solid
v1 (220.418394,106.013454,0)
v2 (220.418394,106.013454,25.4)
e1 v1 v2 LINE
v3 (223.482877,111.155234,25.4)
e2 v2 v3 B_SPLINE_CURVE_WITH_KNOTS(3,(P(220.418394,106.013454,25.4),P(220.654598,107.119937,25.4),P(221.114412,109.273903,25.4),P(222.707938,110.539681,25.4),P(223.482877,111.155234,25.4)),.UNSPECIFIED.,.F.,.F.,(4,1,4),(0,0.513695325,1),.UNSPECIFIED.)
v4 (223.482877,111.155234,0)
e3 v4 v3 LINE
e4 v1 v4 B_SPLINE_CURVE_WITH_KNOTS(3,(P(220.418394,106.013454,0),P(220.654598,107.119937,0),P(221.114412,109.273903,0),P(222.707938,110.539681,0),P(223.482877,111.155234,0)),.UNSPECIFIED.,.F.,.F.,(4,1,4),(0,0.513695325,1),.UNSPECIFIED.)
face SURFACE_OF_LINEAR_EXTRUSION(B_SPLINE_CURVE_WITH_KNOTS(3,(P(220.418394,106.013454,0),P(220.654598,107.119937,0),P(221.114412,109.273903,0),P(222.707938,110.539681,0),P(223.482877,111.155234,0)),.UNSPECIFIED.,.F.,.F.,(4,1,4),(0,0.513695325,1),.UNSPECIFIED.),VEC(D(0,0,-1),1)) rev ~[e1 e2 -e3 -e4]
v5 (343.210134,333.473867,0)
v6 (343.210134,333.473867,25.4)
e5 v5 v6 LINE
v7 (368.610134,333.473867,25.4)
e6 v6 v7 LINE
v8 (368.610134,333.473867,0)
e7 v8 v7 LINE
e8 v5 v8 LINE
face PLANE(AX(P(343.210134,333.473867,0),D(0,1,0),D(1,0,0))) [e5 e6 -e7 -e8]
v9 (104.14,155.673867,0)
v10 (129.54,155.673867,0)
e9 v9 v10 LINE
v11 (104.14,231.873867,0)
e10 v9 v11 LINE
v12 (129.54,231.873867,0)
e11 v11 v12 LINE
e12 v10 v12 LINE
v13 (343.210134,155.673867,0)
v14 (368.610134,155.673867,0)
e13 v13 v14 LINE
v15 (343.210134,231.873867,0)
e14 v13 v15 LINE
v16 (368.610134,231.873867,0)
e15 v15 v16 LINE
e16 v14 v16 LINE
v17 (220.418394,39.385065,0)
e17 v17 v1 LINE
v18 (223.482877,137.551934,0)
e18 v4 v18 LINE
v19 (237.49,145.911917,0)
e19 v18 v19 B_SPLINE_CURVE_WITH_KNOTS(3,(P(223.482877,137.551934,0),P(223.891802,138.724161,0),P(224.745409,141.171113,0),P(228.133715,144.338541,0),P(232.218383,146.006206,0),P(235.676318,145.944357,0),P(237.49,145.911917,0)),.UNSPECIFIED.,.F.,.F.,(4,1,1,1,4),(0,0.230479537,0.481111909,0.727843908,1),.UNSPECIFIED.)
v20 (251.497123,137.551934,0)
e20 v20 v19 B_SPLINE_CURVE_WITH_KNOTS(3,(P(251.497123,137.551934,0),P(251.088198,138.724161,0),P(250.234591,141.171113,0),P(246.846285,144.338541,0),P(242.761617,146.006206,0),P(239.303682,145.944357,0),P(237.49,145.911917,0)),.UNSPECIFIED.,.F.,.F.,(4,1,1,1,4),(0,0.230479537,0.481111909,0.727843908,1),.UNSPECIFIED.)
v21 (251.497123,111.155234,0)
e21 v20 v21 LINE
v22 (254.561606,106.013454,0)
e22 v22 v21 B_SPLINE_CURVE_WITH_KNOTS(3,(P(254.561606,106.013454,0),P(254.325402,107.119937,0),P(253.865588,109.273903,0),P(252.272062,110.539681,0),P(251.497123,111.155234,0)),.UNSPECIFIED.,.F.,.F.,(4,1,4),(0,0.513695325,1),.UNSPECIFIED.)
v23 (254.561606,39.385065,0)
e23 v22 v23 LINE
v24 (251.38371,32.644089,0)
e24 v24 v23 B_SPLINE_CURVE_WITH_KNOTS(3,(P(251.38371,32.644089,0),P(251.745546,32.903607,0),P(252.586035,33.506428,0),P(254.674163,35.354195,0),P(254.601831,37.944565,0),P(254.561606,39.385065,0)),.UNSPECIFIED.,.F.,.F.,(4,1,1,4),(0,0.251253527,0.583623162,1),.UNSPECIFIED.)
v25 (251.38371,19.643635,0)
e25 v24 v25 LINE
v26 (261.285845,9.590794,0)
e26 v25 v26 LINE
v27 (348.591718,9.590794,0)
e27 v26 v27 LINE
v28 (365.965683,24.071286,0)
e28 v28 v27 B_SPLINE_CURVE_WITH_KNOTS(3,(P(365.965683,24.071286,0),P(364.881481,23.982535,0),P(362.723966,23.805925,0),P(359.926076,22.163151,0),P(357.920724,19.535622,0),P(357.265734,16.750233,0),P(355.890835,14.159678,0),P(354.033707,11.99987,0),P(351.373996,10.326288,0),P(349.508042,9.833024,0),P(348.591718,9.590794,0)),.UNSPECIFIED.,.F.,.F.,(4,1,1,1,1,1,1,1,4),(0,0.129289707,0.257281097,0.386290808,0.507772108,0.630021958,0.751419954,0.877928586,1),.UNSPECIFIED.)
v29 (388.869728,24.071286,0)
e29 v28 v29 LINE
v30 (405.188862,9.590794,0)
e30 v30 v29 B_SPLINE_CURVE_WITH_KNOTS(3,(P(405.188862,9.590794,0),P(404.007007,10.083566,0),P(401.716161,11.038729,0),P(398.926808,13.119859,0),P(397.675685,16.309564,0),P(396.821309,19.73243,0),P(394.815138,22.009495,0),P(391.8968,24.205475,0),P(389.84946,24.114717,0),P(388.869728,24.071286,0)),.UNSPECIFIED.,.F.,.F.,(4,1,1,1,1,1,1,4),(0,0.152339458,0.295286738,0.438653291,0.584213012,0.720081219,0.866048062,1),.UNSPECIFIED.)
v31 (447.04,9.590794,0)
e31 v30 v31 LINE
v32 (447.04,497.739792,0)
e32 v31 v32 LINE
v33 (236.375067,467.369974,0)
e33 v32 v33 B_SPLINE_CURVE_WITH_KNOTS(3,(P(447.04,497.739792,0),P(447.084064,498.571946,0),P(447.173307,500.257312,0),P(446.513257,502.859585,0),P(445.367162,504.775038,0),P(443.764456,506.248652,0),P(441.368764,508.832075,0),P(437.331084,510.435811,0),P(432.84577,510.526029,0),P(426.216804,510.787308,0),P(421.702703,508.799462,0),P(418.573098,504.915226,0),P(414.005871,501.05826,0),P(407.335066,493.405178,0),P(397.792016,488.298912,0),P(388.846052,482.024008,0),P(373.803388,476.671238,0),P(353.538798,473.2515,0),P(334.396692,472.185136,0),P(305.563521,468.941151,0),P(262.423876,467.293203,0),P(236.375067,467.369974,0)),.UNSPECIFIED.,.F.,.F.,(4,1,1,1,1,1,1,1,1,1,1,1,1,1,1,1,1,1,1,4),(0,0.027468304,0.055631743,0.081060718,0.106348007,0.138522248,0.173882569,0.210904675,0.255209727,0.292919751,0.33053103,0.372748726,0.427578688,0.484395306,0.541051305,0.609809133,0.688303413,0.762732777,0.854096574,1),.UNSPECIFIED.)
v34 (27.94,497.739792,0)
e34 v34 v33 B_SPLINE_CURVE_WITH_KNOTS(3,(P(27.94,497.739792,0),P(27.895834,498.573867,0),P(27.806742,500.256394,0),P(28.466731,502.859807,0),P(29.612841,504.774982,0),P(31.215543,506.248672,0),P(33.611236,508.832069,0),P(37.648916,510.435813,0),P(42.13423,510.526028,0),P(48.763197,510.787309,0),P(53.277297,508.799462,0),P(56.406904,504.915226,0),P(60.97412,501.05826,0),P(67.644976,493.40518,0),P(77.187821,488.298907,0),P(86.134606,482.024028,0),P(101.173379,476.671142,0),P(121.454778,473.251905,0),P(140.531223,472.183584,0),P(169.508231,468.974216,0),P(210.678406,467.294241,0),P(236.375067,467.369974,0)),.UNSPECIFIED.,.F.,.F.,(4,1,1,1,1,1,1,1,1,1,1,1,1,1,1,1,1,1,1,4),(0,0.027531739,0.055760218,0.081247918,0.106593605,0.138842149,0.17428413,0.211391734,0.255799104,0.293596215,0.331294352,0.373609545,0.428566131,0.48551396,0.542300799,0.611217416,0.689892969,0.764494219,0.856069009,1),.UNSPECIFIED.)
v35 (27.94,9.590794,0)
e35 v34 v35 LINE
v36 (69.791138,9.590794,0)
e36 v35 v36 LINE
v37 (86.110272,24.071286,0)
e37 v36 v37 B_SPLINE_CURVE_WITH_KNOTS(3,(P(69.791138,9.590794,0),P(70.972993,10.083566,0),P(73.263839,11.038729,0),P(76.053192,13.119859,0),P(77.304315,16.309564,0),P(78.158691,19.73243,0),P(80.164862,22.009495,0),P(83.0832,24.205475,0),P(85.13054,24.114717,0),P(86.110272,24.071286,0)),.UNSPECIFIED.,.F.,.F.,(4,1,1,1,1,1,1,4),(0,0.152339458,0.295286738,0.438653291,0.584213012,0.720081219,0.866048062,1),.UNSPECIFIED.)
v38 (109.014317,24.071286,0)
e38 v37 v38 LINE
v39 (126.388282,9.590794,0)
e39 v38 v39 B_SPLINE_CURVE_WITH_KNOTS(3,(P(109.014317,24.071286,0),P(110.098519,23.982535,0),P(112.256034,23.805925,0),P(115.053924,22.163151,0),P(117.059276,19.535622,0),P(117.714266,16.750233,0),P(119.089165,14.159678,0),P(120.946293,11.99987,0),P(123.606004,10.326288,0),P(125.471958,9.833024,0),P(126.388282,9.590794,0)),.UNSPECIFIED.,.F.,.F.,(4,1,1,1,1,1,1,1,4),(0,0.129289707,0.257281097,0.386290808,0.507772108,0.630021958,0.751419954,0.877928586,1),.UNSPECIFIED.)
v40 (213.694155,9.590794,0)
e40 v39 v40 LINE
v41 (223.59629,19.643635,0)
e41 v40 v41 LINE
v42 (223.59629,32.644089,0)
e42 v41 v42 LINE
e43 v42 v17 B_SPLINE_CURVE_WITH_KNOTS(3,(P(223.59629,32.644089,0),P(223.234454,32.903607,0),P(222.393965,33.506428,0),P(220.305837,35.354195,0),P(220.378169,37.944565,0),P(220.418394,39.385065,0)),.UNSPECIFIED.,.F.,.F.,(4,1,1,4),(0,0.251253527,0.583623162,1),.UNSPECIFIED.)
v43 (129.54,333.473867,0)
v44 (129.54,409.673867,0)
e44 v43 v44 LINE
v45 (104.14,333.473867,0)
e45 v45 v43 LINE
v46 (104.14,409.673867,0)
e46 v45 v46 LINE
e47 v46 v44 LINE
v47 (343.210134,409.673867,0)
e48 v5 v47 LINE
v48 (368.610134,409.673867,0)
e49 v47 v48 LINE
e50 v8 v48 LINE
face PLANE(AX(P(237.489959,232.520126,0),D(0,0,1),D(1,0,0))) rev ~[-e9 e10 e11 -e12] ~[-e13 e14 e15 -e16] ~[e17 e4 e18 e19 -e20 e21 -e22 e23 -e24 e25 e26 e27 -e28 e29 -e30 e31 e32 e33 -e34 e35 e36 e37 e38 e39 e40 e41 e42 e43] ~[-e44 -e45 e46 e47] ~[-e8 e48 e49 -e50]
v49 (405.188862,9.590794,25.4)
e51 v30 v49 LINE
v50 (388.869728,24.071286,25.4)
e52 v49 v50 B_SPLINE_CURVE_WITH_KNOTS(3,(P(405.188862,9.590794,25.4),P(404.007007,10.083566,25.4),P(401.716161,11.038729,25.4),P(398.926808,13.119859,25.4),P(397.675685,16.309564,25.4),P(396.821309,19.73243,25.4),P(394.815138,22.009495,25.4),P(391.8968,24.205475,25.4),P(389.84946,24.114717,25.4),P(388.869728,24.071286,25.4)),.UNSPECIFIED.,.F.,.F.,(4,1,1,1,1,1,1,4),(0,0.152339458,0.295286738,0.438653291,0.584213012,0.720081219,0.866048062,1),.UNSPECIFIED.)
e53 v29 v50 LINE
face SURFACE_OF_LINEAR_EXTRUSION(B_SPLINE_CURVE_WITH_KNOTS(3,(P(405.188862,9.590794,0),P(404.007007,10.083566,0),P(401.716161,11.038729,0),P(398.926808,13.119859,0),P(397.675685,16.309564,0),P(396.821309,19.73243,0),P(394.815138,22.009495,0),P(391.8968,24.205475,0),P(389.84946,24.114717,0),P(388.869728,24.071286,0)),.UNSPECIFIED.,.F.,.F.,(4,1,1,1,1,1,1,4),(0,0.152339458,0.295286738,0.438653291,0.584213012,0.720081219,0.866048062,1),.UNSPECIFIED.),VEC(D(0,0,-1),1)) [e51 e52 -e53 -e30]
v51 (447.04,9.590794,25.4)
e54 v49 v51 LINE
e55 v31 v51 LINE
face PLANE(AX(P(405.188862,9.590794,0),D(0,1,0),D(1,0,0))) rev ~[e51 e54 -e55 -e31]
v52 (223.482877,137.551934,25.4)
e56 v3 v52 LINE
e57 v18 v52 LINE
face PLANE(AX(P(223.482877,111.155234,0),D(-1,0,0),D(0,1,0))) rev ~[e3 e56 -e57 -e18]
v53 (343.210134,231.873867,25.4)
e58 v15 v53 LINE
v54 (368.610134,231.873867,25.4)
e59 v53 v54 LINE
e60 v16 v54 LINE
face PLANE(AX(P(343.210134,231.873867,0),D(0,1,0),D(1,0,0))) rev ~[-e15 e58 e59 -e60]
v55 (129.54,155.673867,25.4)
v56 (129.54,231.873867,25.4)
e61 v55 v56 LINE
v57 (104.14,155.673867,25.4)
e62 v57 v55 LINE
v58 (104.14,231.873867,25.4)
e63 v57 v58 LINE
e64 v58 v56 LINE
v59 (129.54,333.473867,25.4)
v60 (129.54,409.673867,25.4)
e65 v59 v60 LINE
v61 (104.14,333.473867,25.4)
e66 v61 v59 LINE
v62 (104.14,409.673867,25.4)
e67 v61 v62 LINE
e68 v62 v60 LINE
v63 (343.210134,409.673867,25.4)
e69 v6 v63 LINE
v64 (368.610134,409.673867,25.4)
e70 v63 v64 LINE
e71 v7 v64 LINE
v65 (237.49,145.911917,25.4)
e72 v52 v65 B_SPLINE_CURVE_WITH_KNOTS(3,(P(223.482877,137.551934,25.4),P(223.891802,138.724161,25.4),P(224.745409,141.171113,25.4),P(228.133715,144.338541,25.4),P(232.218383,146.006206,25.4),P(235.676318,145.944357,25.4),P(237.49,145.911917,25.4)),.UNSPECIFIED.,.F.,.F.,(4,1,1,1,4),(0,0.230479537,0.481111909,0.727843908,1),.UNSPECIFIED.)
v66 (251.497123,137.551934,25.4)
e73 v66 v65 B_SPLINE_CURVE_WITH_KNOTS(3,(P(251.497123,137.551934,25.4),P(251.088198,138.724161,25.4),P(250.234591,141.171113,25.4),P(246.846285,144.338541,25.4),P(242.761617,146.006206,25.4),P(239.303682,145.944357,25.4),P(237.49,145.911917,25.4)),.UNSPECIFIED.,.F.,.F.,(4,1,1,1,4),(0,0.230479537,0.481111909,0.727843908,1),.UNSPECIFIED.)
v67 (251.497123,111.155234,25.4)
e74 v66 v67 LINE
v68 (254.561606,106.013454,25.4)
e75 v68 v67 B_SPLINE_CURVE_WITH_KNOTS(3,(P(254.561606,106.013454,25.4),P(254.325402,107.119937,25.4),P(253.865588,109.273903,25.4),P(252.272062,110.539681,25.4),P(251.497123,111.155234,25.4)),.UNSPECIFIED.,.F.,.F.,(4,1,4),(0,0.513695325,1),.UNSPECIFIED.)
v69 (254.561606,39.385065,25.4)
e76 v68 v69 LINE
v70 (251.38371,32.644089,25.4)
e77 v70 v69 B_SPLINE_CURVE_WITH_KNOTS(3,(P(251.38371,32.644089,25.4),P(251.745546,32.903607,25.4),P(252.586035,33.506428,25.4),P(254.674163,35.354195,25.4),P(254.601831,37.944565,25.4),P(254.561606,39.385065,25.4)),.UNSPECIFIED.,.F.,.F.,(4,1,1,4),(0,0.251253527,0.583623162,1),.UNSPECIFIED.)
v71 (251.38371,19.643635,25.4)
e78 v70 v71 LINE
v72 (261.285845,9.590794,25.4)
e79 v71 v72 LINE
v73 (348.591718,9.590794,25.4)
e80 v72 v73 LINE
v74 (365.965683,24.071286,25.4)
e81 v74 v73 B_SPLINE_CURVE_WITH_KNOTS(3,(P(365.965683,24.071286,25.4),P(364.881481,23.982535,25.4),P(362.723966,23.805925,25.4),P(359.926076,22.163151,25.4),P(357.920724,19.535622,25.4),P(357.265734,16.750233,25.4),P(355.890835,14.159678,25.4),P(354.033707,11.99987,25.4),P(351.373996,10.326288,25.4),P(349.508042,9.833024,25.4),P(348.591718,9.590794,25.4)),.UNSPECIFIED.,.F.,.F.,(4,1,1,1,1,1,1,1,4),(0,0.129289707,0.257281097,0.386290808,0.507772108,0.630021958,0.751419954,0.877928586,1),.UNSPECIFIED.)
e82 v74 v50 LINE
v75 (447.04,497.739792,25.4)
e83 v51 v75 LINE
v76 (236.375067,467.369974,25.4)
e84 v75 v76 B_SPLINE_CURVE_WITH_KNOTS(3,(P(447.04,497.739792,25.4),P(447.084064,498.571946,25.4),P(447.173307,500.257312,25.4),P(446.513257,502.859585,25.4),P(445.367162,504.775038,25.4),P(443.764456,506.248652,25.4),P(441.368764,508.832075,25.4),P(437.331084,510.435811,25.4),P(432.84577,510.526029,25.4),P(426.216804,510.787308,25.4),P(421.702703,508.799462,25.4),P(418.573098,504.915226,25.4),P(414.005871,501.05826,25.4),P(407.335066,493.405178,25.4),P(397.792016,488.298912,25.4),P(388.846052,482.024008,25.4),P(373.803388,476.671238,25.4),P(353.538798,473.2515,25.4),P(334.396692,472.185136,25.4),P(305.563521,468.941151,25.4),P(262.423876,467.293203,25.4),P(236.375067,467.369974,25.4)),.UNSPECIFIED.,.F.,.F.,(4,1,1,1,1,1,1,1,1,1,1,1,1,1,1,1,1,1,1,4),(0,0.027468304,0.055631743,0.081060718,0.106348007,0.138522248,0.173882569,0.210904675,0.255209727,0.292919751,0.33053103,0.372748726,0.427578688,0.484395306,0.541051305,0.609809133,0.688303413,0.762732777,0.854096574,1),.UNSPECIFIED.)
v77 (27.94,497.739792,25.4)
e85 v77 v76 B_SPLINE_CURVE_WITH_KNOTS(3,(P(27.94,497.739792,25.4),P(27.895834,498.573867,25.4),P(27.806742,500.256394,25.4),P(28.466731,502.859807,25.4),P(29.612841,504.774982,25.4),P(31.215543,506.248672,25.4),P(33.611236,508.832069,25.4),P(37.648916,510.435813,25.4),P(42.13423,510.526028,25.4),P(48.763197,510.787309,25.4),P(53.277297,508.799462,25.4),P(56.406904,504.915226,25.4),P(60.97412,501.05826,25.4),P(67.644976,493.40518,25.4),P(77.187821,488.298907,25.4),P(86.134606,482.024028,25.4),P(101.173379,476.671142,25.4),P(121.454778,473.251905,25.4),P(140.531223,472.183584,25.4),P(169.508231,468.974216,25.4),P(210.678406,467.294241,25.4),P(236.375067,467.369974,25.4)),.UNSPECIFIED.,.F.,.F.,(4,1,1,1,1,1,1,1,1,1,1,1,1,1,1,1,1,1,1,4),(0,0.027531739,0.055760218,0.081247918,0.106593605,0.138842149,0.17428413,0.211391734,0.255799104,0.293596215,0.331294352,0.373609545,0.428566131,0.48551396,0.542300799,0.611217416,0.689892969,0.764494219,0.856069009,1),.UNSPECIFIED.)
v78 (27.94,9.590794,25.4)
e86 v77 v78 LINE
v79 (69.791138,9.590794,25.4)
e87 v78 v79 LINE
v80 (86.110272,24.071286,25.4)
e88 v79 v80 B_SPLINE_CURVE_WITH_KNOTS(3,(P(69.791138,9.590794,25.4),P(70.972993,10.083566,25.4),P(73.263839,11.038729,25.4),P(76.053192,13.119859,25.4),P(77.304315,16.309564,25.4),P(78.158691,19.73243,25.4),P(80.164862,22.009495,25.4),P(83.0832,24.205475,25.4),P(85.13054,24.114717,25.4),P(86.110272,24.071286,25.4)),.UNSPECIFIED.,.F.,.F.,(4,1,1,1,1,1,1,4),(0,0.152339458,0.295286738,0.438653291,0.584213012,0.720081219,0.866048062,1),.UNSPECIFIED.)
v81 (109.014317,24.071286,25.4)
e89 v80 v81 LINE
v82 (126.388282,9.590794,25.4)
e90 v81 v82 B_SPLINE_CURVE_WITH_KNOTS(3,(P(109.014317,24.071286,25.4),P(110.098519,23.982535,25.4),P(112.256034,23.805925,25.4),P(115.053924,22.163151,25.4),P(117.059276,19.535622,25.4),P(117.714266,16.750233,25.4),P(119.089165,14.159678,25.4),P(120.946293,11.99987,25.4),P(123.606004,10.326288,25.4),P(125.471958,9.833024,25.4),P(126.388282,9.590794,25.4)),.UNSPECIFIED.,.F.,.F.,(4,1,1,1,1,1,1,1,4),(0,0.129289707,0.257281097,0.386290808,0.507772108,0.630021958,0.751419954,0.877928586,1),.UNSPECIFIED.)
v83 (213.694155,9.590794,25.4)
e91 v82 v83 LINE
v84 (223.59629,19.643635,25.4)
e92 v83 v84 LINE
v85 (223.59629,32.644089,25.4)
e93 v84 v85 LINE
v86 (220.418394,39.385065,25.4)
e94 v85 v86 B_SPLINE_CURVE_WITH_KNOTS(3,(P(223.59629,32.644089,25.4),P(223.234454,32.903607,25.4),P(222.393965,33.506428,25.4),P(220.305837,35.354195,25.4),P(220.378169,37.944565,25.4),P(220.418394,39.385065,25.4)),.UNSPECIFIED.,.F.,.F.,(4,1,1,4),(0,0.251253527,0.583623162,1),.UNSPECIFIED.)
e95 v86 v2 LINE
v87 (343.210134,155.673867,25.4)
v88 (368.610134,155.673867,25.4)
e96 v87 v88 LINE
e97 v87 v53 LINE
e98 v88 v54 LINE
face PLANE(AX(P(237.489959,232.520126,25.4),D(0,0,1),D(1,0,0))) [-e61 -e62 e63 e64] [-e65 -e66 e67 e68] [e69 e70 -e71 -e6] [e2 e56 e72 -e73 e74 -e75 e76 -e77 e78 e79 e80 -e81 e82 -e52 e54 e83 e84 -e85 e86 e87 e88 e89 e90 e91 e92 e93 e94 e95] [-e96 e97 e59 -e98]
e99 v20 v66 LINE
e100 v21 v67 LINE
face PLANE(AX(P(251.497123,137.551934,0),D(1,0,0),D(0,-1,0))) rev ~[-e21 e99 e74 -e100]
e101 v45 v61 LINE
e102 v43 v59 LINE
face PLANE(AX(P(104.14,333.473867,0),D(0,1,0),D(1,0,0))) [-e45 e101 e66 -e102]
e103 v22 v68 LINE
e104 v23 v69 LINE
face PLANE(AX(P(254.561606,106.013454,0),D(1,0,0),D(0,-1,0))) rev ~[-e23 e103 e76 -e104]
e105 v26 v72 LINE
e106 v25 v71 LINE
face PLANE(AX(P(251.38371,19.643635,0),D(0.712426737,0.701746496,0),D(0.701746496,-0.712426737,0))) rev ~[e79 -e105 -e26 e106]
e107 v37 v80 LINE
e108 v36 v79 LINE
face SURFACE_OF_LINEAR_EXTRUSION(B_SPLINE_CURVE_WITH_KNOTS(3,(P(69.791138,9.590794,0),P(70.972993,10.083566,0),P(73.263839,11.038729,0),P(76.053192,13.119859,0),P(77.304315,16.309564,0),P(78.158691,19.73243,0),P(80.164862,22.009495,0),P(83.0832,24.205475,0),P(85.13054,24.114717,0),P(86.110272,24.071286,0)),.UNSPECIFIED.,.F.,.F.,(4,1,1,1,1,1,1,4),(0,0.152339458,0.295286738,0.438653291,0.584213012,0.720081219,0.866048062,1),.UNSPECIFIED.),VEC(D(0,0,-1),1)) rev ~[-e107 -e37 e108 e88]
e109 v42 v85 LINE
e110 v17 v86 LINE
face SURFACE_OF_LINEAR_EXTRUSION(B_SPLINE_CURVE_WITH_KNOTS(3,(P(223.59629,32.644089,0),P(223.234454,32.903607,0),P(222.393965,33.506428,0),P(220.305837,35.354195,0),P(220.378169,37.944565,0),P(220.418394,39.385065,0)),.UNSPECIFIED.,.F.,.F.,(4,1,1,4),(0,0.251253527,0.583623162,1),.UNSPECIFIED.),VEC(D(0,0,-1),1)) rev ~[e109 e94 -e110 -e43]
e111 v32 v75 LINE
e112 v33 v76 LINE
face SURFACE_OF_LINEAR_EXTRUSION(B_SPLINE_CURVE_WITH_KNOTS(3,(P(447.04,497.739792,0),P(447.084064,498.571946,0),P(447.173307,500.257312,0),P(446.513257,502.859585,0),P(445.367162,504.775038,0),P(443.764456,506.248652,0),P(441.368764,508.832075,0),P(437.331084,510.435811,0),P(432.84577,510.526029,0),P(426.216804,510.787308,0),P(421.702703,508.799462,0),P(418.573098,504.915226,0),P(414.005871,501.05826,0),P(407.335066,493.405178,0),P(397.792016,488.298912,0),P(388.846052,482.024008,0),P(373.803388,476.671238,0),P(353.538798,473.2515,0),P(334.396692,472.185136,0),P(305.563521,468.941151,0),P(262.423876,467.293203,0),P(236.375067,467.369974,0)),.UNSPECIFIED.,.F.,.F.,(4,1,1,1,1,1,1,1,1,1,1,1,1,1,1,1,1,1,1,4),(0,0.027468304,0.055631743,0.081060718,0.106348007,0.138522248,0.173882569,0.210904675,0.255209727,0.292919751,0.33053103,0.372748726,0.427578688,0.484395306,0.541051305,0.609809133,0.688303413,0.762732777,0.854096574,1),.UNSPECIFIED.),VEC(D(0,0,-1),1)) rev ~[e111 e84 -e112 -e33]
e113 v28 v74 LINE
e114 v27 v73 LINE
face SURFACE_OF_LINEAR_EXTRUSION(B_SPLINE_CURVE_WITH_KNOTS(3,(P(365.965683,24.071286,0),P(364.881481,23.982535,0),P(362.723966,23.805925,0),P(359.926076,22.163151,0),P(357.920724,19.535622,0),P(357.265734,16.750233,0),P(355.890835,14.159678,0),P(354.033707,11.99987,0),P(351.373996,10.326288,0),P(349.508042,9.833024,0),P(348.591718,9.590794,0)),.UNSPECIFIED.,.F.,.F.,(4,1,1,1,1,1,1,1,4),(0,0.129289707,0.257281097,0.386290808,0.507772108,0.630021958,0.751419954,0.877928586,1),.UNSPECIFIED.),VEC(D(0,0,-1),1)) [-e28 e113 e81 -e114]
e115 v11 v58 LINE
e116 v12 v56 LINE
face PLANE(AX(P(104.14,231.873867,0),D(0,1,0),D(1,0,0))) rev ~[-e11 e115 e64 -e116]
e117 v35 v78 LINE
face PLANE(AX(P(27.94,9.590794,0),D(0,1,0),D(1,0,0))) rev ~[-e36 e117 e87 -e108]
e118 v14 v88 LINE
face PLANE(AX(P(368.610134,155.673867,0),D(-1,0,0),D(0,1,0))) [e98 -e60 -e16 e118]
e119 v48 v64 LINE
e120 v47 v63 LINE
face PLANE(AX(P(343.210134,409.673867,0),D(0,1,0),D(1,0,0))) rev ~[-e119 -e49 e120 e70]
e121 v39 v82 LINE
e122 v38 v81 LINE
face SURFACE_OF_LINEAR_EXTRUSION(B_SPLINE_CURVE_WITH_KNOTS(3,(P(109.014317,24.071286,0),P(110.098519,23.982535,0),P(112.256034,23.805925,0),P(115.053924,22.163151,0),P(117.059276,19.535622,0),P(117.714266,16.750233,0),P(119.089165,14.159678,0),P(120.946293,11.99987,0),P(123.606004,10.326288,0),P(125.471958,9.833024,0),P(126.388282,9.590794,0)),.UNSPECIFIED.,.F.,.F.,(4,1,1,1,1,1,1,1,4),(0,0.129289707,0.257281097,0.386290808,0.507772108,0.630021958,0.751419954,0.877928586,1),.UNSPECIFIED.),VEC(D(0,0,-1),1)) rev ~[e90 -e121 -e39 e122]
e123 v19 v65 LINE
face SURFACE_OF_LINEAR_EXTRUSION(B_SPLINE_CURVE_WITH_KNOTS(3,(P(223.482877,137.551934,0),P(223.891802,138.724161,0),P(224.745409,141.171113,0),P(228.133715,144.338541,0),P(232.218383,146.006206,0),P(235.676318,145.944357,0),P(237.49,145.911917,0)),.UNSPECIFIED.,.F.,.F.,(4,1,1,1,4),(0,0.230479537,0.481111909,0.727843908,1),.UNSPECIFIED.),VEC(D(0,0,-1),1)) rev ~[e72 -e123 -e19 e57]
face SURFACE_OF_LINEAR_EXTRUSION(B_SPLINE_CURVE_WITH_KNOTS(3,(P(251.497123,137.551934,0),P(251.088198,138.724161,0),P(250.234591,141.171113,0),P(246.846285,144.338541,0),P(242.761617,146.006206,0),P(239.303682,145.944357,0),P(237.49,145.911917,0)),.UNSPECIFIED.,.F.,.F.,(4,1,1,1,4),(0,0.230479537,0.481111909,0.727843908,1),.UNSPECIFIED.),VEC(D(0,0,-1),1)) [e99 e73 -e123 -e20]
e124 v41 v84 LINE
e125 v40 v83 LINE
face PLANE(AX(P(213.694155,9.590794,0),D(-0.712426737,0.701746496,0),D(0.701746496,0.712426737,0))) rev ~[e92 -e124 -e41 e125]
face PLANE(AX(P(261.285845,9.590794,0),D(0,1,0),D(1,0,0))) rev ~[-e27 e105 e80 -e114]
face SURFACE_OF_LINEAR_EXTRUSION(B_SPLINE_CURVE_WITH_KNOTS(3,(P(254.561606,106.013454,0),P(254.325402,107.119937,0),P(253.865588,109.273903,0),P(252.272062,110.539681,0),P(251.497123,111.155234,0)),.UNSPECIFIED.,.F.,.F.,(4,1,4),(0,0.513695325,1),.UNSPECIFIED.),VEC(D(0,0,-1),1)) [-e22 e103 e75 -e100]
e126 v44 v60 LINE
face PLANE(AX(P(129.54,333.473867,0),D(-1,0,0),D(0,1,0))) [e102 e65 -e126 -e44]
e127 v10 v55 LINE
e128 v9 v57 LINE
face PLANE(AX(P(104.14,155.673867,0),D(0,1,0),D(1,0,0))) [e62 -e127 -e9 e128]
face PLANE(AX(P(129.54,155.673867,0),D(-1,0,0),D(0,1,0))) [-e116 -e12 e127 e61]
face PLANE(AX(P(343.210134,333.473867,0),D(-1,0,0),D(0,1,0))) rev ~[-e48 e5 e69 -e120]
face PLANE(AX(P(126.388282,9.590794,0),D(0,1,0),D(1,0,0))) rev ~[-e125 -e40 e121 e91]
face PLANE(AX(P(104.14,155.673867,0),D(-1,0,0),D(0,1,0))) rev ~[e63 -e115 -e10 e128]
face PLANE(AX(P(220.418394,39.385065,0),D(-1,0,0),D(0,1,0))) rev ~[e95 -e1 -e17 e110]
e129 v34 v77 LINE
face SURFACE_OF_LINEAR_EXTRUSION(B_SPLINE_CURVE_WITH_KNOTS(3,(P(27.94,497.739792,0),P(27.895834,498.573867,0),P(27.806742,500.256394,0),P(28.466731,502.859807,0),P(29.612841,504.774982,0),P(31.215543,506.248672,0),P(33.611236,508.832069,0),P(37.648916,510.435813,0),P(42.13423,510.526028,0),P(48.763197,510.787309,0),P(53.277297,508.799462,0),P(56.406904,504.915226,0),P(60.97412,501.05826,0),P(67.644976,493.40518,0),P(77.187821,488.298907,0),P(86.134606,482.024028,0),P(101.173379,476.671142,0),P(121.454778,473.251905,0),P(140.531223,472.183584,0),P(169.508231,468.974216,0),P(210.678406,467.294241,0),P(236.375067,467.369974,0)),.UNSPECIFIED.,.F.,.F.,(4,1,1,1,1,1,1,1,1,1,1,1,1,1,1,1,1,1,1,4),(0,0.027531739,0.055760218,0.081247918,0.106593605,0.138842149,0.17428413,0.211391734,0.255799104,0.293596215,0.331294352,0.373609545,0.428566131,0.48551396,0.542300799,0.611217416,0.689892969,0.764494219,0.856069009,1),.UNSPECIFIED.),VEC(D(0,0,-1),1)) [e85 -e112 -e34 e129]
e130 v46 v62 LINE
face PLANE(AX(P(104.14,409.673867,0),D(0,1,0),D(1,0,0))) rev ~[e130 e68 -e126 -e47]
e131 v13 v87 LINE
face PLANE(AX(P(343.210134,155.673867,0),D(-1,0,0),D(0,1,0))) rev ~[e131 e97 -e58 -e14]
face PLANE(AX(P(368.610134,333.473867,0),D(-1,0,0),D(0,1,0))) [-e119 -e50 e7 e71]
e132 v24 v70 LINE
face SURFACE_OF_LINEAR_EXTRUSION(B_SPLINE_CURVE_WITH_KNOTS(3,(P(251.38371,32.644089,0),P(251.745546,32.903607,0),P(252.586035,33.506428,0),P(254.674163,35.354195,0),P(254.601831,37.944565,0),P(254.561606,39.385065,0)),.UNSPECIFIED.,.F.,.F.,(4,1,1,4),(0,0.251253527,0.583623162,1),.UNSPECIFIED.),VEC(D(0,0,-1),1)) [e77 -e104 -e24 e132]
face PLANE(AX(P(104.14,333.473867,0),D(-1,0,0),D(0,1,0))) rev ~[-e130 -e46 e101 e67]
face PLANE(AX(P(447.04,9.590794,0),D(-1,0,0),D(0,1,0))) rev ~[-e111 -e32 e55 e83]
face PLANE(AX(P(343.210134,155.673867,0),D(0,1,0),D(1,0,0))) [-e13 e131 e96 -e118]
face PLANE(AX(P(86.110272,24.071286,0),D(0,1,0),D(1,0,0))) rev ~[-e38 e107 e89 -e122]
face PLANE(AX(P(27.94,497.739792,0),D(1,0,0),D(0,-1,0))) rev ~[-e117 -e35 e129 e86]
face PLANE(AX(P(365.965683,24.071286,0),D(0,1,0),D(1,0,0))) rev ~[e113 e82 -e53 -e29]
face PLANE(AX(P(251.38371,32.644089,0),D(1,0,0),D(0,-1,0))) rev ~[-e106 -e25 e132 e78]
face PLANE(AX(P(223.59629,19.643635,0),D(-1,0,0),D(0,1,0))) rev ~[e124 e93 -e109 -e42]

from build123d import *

# Parameters (mm, degrees)
F0_W     = 25.4
F0_H     = 76.2
F1_DEPTH = 25.4


with BuildPart() as f1:
    # F0 (on Top) → F1 (new body)
    with BuildSketch(Plane.XY):
        with BuildLine():
            Line((27.94, 497.7397918701), (27.94, 9.5907943323))
            Line((27.94, 9.5907943323), (69.7911381721, 9.5907943323))
            add(Edge.make_bspline(
                [(69.7911381721, 9.5907943323), (70.9729934459, 10.0835662213), (73.2638391143, 11.0387291523), (76.0531922549, 13.1198589485), (77.3043146801, 16.3095639856), (78.1586914175, 19.7324295036), (80.1648624939, 22.0094954337), (83.083199723, 24.2054748798), (85.1305401259, 24.1147167625), (86.1102715135, 24.0712855011)],
                knots=[0, 0, 0, 0, 0.1523394582, 0.2952867375, 0.4386532905, 0.5842130124, 0.7200812192, 0.8660480616, 1, 1, 1, 1], degree=3))
            Line((86.1102715135, 24.0712855011), (109.0143173933, 24.0712855011))
            add(Edge.make_bspline(
                [(109.0143173933, 24.0712855011), (110.0985186242, 23.9825349885), (112.2560336215, 23.8059251891), (115.0539241878, 22.1631513646), (117.059276202, 19.5356215947), (117.7142664748, 16.750232963), (119.0891647621, 14.1596776932), (120.9462932416, 11.9998702806), (123.6060037354, 10.3262878367), (125.4719582208, 9.8330238716), (126.3882815838, 9.5907943323)],
                knots=[0, 0, 0, 0, 0.1292897071, 0.257281097, 0.3862908082, 0.5077721085, 0.6300219578, 0.7514199544, 0.8779285856, 1, 1, 1, 1], degree=3))
            Line((126.3882815838, 9.5907943323), (213.6941552162, 9.5907943323))
            Line((213.6941552162, 9.5907943323), (223.5962897539, 19.6436345577))
            Line((223.5962897539, 19.6436345577), (223.5962897539, 32.6440893114))
            add(Edge.make_bspline(
                [(223.5962897539, 32.6440893114), (223.2344538971, 32.9036074593), (222.3939650498, 33.5064280612), (220.3058365881, 35.3541948922), (220.3781694251, 37.9445645771), (220.4183936119, 39.3850654364)],
                knots=[0, 0, 0, 0, 0.2512535266, 0.5836231621, 1, 1, 1, 1], degree=3))
            Line((220.4183936119, 39.3850654364), (220.4183936119, 106.0134544969))
            add(Edge.make_bspline(
                [(220.4183936119, 106.0134544969), (220.6545980862, 107.1199368742), (221.1144124211, 109.2739030935), (222.7079380521, 110.5396807066), (223.4828770161, 111.1552342772)],
                knots=[0, 0, 0, 0, 0.5136953251, 1, 1, 1, 1], degree=3))
            Line((223.4828770161, 111.1552342772), (223.4828770161, 137.551933527))
            add(Edge.make_bspline(
                [(223.4828770161, 137.551933527), (223.8918024102, 138.7241605128), (224.7454091098, 141.1711125069), (228.1337150151, 144.3385407224), (232.2183832523, 146.0062063677), (235.6763179785, 145.9443569993), (237.49, 145.9119170904)],
                knots=[0, 0, 0, 0, 0.2304795373, 0.4811119095, 0.7278439081, 1, 1, 1, 1], degree=3))
            add(Edge.make_bspline(
                [(251.4971229839, 137.551933527), (251.0881975898, 138.7241605128), (250.2345908902, 141.1711125069), (246.8462849849, 144.3385407224), (242.7616167477, 146.0062063677), (239.3036820215, 145.9443569993), (237.49, 145.9119170904)],
                knots=[0, 0, 0, 0, 0.2304795373, 0.4811119095, 0.7278439081, 1, 1, 1, 1], degree=3))
            Line((251.4971229839, 137.551933527), (251.4971229839, 111.1552342772))
            add(Edge.make_bspline(
                [(254.5616063881, 106.0134544969), (254.3254019138, 107.1199368742), (253.8655875789, 109.2739030935), (252.2720619479, 110.5396807066), (251.4971229839, 111.1552342772)],
                knots=[0, 0, 0, 0, 0.5136953251, 1, 1, 1, 1], degree=3))
            Line((254.5616063881, 106.0134544969), (254.5616063881, 39.3850654364))
            add(Edge.make_bspline(
                [(251.3837102461, 32.6440893114), (251.7455461029, 32.9036074593), (252.5860349502, 33.5064280612), (254.6741634119, 35.3541948922), (254.6018305749, 37.9445645771), (254.5616063881, 39.3850654364)],
                knots=[0, 0, 0, 0, 0.2512535266, 0.5836231621, 1, 1, 1, 1], degree=3))
            Line((251.3837102461, 32.6440893114), (251.3837102461, 19.6436345577))
            Line((251.3837102461, 19.6436345577), (261.2858447838, 9.5907943323))
            Line((261.2858447838, 9.5907943323), (348.5917184162, 9.5907943323))
            add(Edge.make_bspline(
                [(365.9656826067, 24.0712855011), (364.8814813758, 23.9825349885), (362.7239663785, 23.8059251891), (359.9260758122, 22.1631513646), (357.920723798, 19.5356215947), (357.2657335252, 16.750232963), (355.8908352379, 14.1596776932), (354.0337067584, 11.9998702806), (351.3739962646, 10.3262878367), (349.5080417792, 9.8330238716), (348.5917184162, 9.5907943323)],
                knots=[0, 0, 0, 0, 0.1292897071, 0.257281097, 0.3862908082, 0.5077721085, 0.6300219578, 0.7514199544, 0.8779285856, 1, 1, 1, 1], degree=3))
            Line((365.9656826067, 24.0712855011), (388.8697284865, 24.0712855011))
            add(Edge.make_bspline(
                [(405.1888618279, 9.5907943323), (404.0070065541, 10.0835662213), (401.7161608857, 11.0387291523), (398.9268077451, 13.1198589485), (397.6756853199, 16.3095639856), (396.8213085825, 19.7324295036), (394.8151375061, 22.0094954337), (391.896800277, 24.2054748798), (389.8494598741, 24.1147167625), (388.8697284865, 24.0712855011)],
                knots=[0, 0, 0, 0, 0.1523394582, 0.2952867375, 0.4386532905, 0.5842130124, 0.7200812192, 0.8660480616, 1, 1, 1, 1], degree=3))
            Line((405.1888618279, 9.5907943323), (447.04, 9.5907943323))
            Line((447.04, 9.5907943323), (447.04, 497.7397918701))
            add(Edge.make_bspline(
                [(447.04, 497.7397918701), (447.0840639668, 498.5719456887), (447.1733070187, 500.2573124849), (446.5132567764, 502.8595849038), (445.3671624627, 504.7750376491), (443.7644560307, 506.2486521784), (441.368764259, 508.8320751389), (437.3310840176, 510.4358112402), (432.8457702519, 510.5260285796), (426.2168035945, 510.7873084297), (421.7027027656, 508.7994622807), (418.5730980083, 504.915225787), (414.0058714028, 501.0582603999), (407.335065825, 493.4051783503), (397.7920159871, 488.2989117697), (388.8460524174, 482.0240080075), (373.8033876999, 476.6712378868), (353.5387978077, 473.2515003566), (334.3966924016, 472.1851360377), (305.5635210363, 468.9411513843), (262.4238762665, 467.293202877), (236.3750669765, 467.3699736595)],
                knots=[0, 0, 0, 0, 0.027468304, 0.0556317432, 0.0810607175, 0.1063480068, 0.1385222482, 0.1738825689, 0.2109046748, 0.2552097269, 0.2929197512, 0.3305310296, 0.3727487257, 0.4275786882, 0.4843953058, 0.5410513046, 0.6098091335, 0.6883034128, 0.7627327771, 0.8540965739, 1, 1, 1, 1], degree=3))
            add(Edge.make_bspline(
                [(27.94, 497.7397918701), (27.8958342727, 498.5738674499), (27.8067416397, 500.2563935647), (28.4667314683, 502.8598069048), (29.6128405068, 504.774981567), (31.2155429347, 506.2486717227), (33.6112360768, 508.8320687608), (37.6489158919, 510.4358130998), (42.1342297473, 510.5260279558), (48.7631965411, 510.787308584), (53.2772967914, 508.7994622303), (56.406903741, 504.9152258504), (60.974120218, 501.058260146), (67.6449764752, 493.4051796121), (77.1878214495, 488.2989069253), (86.1346057743, 482.0240276203), (101.1733793918, 476.6711415533), (121.4547784985, 473.2519049004), (140.5312229551, 472.1835840311), (169.5082305233, 468.9742158558), (210.6784056495, 467.2942407239), (236.3750669765, 467.3699736595)],
                knots=[0, 0, 0, 0, 0.0275317388, 0.0557602182, 0.0812479177, 0.106593605, 0.138842149, 0.1742841302, 0.2113917343, 0.2557991037, 0.2935962149, 0.3312943521, 0.373609545, 0.4285661308, 0.4855139597, 0.5423007988, 0.6112174158, 0.6898929685, 0.7644942186, 0.8560690093, 1, 1, 1, 1], degree=3))
        make_face()
        with Locations((116.84, 193.7738674499)):
            Rectangle(F0_W, F0_H, mode=Mode.SUBTRACT)
        with Locations((355.9101339531, 193.7738674499)):
            Rectangle(F0_W, F0_H, mode=Mode.SUBTRACT)
        with Locations((116.84, 371.5738674499)):
            Rectangle(F0_W, F0_H, mode=Mode.SUBTRACT)
        with Locations((355.9101339531, 371.5738674499)):
            Rectangle(F0_W, F0_H, mode=Mode.SUBTRACT)
    extrude(amount=F1_DEPTH)


solid = f1.part
